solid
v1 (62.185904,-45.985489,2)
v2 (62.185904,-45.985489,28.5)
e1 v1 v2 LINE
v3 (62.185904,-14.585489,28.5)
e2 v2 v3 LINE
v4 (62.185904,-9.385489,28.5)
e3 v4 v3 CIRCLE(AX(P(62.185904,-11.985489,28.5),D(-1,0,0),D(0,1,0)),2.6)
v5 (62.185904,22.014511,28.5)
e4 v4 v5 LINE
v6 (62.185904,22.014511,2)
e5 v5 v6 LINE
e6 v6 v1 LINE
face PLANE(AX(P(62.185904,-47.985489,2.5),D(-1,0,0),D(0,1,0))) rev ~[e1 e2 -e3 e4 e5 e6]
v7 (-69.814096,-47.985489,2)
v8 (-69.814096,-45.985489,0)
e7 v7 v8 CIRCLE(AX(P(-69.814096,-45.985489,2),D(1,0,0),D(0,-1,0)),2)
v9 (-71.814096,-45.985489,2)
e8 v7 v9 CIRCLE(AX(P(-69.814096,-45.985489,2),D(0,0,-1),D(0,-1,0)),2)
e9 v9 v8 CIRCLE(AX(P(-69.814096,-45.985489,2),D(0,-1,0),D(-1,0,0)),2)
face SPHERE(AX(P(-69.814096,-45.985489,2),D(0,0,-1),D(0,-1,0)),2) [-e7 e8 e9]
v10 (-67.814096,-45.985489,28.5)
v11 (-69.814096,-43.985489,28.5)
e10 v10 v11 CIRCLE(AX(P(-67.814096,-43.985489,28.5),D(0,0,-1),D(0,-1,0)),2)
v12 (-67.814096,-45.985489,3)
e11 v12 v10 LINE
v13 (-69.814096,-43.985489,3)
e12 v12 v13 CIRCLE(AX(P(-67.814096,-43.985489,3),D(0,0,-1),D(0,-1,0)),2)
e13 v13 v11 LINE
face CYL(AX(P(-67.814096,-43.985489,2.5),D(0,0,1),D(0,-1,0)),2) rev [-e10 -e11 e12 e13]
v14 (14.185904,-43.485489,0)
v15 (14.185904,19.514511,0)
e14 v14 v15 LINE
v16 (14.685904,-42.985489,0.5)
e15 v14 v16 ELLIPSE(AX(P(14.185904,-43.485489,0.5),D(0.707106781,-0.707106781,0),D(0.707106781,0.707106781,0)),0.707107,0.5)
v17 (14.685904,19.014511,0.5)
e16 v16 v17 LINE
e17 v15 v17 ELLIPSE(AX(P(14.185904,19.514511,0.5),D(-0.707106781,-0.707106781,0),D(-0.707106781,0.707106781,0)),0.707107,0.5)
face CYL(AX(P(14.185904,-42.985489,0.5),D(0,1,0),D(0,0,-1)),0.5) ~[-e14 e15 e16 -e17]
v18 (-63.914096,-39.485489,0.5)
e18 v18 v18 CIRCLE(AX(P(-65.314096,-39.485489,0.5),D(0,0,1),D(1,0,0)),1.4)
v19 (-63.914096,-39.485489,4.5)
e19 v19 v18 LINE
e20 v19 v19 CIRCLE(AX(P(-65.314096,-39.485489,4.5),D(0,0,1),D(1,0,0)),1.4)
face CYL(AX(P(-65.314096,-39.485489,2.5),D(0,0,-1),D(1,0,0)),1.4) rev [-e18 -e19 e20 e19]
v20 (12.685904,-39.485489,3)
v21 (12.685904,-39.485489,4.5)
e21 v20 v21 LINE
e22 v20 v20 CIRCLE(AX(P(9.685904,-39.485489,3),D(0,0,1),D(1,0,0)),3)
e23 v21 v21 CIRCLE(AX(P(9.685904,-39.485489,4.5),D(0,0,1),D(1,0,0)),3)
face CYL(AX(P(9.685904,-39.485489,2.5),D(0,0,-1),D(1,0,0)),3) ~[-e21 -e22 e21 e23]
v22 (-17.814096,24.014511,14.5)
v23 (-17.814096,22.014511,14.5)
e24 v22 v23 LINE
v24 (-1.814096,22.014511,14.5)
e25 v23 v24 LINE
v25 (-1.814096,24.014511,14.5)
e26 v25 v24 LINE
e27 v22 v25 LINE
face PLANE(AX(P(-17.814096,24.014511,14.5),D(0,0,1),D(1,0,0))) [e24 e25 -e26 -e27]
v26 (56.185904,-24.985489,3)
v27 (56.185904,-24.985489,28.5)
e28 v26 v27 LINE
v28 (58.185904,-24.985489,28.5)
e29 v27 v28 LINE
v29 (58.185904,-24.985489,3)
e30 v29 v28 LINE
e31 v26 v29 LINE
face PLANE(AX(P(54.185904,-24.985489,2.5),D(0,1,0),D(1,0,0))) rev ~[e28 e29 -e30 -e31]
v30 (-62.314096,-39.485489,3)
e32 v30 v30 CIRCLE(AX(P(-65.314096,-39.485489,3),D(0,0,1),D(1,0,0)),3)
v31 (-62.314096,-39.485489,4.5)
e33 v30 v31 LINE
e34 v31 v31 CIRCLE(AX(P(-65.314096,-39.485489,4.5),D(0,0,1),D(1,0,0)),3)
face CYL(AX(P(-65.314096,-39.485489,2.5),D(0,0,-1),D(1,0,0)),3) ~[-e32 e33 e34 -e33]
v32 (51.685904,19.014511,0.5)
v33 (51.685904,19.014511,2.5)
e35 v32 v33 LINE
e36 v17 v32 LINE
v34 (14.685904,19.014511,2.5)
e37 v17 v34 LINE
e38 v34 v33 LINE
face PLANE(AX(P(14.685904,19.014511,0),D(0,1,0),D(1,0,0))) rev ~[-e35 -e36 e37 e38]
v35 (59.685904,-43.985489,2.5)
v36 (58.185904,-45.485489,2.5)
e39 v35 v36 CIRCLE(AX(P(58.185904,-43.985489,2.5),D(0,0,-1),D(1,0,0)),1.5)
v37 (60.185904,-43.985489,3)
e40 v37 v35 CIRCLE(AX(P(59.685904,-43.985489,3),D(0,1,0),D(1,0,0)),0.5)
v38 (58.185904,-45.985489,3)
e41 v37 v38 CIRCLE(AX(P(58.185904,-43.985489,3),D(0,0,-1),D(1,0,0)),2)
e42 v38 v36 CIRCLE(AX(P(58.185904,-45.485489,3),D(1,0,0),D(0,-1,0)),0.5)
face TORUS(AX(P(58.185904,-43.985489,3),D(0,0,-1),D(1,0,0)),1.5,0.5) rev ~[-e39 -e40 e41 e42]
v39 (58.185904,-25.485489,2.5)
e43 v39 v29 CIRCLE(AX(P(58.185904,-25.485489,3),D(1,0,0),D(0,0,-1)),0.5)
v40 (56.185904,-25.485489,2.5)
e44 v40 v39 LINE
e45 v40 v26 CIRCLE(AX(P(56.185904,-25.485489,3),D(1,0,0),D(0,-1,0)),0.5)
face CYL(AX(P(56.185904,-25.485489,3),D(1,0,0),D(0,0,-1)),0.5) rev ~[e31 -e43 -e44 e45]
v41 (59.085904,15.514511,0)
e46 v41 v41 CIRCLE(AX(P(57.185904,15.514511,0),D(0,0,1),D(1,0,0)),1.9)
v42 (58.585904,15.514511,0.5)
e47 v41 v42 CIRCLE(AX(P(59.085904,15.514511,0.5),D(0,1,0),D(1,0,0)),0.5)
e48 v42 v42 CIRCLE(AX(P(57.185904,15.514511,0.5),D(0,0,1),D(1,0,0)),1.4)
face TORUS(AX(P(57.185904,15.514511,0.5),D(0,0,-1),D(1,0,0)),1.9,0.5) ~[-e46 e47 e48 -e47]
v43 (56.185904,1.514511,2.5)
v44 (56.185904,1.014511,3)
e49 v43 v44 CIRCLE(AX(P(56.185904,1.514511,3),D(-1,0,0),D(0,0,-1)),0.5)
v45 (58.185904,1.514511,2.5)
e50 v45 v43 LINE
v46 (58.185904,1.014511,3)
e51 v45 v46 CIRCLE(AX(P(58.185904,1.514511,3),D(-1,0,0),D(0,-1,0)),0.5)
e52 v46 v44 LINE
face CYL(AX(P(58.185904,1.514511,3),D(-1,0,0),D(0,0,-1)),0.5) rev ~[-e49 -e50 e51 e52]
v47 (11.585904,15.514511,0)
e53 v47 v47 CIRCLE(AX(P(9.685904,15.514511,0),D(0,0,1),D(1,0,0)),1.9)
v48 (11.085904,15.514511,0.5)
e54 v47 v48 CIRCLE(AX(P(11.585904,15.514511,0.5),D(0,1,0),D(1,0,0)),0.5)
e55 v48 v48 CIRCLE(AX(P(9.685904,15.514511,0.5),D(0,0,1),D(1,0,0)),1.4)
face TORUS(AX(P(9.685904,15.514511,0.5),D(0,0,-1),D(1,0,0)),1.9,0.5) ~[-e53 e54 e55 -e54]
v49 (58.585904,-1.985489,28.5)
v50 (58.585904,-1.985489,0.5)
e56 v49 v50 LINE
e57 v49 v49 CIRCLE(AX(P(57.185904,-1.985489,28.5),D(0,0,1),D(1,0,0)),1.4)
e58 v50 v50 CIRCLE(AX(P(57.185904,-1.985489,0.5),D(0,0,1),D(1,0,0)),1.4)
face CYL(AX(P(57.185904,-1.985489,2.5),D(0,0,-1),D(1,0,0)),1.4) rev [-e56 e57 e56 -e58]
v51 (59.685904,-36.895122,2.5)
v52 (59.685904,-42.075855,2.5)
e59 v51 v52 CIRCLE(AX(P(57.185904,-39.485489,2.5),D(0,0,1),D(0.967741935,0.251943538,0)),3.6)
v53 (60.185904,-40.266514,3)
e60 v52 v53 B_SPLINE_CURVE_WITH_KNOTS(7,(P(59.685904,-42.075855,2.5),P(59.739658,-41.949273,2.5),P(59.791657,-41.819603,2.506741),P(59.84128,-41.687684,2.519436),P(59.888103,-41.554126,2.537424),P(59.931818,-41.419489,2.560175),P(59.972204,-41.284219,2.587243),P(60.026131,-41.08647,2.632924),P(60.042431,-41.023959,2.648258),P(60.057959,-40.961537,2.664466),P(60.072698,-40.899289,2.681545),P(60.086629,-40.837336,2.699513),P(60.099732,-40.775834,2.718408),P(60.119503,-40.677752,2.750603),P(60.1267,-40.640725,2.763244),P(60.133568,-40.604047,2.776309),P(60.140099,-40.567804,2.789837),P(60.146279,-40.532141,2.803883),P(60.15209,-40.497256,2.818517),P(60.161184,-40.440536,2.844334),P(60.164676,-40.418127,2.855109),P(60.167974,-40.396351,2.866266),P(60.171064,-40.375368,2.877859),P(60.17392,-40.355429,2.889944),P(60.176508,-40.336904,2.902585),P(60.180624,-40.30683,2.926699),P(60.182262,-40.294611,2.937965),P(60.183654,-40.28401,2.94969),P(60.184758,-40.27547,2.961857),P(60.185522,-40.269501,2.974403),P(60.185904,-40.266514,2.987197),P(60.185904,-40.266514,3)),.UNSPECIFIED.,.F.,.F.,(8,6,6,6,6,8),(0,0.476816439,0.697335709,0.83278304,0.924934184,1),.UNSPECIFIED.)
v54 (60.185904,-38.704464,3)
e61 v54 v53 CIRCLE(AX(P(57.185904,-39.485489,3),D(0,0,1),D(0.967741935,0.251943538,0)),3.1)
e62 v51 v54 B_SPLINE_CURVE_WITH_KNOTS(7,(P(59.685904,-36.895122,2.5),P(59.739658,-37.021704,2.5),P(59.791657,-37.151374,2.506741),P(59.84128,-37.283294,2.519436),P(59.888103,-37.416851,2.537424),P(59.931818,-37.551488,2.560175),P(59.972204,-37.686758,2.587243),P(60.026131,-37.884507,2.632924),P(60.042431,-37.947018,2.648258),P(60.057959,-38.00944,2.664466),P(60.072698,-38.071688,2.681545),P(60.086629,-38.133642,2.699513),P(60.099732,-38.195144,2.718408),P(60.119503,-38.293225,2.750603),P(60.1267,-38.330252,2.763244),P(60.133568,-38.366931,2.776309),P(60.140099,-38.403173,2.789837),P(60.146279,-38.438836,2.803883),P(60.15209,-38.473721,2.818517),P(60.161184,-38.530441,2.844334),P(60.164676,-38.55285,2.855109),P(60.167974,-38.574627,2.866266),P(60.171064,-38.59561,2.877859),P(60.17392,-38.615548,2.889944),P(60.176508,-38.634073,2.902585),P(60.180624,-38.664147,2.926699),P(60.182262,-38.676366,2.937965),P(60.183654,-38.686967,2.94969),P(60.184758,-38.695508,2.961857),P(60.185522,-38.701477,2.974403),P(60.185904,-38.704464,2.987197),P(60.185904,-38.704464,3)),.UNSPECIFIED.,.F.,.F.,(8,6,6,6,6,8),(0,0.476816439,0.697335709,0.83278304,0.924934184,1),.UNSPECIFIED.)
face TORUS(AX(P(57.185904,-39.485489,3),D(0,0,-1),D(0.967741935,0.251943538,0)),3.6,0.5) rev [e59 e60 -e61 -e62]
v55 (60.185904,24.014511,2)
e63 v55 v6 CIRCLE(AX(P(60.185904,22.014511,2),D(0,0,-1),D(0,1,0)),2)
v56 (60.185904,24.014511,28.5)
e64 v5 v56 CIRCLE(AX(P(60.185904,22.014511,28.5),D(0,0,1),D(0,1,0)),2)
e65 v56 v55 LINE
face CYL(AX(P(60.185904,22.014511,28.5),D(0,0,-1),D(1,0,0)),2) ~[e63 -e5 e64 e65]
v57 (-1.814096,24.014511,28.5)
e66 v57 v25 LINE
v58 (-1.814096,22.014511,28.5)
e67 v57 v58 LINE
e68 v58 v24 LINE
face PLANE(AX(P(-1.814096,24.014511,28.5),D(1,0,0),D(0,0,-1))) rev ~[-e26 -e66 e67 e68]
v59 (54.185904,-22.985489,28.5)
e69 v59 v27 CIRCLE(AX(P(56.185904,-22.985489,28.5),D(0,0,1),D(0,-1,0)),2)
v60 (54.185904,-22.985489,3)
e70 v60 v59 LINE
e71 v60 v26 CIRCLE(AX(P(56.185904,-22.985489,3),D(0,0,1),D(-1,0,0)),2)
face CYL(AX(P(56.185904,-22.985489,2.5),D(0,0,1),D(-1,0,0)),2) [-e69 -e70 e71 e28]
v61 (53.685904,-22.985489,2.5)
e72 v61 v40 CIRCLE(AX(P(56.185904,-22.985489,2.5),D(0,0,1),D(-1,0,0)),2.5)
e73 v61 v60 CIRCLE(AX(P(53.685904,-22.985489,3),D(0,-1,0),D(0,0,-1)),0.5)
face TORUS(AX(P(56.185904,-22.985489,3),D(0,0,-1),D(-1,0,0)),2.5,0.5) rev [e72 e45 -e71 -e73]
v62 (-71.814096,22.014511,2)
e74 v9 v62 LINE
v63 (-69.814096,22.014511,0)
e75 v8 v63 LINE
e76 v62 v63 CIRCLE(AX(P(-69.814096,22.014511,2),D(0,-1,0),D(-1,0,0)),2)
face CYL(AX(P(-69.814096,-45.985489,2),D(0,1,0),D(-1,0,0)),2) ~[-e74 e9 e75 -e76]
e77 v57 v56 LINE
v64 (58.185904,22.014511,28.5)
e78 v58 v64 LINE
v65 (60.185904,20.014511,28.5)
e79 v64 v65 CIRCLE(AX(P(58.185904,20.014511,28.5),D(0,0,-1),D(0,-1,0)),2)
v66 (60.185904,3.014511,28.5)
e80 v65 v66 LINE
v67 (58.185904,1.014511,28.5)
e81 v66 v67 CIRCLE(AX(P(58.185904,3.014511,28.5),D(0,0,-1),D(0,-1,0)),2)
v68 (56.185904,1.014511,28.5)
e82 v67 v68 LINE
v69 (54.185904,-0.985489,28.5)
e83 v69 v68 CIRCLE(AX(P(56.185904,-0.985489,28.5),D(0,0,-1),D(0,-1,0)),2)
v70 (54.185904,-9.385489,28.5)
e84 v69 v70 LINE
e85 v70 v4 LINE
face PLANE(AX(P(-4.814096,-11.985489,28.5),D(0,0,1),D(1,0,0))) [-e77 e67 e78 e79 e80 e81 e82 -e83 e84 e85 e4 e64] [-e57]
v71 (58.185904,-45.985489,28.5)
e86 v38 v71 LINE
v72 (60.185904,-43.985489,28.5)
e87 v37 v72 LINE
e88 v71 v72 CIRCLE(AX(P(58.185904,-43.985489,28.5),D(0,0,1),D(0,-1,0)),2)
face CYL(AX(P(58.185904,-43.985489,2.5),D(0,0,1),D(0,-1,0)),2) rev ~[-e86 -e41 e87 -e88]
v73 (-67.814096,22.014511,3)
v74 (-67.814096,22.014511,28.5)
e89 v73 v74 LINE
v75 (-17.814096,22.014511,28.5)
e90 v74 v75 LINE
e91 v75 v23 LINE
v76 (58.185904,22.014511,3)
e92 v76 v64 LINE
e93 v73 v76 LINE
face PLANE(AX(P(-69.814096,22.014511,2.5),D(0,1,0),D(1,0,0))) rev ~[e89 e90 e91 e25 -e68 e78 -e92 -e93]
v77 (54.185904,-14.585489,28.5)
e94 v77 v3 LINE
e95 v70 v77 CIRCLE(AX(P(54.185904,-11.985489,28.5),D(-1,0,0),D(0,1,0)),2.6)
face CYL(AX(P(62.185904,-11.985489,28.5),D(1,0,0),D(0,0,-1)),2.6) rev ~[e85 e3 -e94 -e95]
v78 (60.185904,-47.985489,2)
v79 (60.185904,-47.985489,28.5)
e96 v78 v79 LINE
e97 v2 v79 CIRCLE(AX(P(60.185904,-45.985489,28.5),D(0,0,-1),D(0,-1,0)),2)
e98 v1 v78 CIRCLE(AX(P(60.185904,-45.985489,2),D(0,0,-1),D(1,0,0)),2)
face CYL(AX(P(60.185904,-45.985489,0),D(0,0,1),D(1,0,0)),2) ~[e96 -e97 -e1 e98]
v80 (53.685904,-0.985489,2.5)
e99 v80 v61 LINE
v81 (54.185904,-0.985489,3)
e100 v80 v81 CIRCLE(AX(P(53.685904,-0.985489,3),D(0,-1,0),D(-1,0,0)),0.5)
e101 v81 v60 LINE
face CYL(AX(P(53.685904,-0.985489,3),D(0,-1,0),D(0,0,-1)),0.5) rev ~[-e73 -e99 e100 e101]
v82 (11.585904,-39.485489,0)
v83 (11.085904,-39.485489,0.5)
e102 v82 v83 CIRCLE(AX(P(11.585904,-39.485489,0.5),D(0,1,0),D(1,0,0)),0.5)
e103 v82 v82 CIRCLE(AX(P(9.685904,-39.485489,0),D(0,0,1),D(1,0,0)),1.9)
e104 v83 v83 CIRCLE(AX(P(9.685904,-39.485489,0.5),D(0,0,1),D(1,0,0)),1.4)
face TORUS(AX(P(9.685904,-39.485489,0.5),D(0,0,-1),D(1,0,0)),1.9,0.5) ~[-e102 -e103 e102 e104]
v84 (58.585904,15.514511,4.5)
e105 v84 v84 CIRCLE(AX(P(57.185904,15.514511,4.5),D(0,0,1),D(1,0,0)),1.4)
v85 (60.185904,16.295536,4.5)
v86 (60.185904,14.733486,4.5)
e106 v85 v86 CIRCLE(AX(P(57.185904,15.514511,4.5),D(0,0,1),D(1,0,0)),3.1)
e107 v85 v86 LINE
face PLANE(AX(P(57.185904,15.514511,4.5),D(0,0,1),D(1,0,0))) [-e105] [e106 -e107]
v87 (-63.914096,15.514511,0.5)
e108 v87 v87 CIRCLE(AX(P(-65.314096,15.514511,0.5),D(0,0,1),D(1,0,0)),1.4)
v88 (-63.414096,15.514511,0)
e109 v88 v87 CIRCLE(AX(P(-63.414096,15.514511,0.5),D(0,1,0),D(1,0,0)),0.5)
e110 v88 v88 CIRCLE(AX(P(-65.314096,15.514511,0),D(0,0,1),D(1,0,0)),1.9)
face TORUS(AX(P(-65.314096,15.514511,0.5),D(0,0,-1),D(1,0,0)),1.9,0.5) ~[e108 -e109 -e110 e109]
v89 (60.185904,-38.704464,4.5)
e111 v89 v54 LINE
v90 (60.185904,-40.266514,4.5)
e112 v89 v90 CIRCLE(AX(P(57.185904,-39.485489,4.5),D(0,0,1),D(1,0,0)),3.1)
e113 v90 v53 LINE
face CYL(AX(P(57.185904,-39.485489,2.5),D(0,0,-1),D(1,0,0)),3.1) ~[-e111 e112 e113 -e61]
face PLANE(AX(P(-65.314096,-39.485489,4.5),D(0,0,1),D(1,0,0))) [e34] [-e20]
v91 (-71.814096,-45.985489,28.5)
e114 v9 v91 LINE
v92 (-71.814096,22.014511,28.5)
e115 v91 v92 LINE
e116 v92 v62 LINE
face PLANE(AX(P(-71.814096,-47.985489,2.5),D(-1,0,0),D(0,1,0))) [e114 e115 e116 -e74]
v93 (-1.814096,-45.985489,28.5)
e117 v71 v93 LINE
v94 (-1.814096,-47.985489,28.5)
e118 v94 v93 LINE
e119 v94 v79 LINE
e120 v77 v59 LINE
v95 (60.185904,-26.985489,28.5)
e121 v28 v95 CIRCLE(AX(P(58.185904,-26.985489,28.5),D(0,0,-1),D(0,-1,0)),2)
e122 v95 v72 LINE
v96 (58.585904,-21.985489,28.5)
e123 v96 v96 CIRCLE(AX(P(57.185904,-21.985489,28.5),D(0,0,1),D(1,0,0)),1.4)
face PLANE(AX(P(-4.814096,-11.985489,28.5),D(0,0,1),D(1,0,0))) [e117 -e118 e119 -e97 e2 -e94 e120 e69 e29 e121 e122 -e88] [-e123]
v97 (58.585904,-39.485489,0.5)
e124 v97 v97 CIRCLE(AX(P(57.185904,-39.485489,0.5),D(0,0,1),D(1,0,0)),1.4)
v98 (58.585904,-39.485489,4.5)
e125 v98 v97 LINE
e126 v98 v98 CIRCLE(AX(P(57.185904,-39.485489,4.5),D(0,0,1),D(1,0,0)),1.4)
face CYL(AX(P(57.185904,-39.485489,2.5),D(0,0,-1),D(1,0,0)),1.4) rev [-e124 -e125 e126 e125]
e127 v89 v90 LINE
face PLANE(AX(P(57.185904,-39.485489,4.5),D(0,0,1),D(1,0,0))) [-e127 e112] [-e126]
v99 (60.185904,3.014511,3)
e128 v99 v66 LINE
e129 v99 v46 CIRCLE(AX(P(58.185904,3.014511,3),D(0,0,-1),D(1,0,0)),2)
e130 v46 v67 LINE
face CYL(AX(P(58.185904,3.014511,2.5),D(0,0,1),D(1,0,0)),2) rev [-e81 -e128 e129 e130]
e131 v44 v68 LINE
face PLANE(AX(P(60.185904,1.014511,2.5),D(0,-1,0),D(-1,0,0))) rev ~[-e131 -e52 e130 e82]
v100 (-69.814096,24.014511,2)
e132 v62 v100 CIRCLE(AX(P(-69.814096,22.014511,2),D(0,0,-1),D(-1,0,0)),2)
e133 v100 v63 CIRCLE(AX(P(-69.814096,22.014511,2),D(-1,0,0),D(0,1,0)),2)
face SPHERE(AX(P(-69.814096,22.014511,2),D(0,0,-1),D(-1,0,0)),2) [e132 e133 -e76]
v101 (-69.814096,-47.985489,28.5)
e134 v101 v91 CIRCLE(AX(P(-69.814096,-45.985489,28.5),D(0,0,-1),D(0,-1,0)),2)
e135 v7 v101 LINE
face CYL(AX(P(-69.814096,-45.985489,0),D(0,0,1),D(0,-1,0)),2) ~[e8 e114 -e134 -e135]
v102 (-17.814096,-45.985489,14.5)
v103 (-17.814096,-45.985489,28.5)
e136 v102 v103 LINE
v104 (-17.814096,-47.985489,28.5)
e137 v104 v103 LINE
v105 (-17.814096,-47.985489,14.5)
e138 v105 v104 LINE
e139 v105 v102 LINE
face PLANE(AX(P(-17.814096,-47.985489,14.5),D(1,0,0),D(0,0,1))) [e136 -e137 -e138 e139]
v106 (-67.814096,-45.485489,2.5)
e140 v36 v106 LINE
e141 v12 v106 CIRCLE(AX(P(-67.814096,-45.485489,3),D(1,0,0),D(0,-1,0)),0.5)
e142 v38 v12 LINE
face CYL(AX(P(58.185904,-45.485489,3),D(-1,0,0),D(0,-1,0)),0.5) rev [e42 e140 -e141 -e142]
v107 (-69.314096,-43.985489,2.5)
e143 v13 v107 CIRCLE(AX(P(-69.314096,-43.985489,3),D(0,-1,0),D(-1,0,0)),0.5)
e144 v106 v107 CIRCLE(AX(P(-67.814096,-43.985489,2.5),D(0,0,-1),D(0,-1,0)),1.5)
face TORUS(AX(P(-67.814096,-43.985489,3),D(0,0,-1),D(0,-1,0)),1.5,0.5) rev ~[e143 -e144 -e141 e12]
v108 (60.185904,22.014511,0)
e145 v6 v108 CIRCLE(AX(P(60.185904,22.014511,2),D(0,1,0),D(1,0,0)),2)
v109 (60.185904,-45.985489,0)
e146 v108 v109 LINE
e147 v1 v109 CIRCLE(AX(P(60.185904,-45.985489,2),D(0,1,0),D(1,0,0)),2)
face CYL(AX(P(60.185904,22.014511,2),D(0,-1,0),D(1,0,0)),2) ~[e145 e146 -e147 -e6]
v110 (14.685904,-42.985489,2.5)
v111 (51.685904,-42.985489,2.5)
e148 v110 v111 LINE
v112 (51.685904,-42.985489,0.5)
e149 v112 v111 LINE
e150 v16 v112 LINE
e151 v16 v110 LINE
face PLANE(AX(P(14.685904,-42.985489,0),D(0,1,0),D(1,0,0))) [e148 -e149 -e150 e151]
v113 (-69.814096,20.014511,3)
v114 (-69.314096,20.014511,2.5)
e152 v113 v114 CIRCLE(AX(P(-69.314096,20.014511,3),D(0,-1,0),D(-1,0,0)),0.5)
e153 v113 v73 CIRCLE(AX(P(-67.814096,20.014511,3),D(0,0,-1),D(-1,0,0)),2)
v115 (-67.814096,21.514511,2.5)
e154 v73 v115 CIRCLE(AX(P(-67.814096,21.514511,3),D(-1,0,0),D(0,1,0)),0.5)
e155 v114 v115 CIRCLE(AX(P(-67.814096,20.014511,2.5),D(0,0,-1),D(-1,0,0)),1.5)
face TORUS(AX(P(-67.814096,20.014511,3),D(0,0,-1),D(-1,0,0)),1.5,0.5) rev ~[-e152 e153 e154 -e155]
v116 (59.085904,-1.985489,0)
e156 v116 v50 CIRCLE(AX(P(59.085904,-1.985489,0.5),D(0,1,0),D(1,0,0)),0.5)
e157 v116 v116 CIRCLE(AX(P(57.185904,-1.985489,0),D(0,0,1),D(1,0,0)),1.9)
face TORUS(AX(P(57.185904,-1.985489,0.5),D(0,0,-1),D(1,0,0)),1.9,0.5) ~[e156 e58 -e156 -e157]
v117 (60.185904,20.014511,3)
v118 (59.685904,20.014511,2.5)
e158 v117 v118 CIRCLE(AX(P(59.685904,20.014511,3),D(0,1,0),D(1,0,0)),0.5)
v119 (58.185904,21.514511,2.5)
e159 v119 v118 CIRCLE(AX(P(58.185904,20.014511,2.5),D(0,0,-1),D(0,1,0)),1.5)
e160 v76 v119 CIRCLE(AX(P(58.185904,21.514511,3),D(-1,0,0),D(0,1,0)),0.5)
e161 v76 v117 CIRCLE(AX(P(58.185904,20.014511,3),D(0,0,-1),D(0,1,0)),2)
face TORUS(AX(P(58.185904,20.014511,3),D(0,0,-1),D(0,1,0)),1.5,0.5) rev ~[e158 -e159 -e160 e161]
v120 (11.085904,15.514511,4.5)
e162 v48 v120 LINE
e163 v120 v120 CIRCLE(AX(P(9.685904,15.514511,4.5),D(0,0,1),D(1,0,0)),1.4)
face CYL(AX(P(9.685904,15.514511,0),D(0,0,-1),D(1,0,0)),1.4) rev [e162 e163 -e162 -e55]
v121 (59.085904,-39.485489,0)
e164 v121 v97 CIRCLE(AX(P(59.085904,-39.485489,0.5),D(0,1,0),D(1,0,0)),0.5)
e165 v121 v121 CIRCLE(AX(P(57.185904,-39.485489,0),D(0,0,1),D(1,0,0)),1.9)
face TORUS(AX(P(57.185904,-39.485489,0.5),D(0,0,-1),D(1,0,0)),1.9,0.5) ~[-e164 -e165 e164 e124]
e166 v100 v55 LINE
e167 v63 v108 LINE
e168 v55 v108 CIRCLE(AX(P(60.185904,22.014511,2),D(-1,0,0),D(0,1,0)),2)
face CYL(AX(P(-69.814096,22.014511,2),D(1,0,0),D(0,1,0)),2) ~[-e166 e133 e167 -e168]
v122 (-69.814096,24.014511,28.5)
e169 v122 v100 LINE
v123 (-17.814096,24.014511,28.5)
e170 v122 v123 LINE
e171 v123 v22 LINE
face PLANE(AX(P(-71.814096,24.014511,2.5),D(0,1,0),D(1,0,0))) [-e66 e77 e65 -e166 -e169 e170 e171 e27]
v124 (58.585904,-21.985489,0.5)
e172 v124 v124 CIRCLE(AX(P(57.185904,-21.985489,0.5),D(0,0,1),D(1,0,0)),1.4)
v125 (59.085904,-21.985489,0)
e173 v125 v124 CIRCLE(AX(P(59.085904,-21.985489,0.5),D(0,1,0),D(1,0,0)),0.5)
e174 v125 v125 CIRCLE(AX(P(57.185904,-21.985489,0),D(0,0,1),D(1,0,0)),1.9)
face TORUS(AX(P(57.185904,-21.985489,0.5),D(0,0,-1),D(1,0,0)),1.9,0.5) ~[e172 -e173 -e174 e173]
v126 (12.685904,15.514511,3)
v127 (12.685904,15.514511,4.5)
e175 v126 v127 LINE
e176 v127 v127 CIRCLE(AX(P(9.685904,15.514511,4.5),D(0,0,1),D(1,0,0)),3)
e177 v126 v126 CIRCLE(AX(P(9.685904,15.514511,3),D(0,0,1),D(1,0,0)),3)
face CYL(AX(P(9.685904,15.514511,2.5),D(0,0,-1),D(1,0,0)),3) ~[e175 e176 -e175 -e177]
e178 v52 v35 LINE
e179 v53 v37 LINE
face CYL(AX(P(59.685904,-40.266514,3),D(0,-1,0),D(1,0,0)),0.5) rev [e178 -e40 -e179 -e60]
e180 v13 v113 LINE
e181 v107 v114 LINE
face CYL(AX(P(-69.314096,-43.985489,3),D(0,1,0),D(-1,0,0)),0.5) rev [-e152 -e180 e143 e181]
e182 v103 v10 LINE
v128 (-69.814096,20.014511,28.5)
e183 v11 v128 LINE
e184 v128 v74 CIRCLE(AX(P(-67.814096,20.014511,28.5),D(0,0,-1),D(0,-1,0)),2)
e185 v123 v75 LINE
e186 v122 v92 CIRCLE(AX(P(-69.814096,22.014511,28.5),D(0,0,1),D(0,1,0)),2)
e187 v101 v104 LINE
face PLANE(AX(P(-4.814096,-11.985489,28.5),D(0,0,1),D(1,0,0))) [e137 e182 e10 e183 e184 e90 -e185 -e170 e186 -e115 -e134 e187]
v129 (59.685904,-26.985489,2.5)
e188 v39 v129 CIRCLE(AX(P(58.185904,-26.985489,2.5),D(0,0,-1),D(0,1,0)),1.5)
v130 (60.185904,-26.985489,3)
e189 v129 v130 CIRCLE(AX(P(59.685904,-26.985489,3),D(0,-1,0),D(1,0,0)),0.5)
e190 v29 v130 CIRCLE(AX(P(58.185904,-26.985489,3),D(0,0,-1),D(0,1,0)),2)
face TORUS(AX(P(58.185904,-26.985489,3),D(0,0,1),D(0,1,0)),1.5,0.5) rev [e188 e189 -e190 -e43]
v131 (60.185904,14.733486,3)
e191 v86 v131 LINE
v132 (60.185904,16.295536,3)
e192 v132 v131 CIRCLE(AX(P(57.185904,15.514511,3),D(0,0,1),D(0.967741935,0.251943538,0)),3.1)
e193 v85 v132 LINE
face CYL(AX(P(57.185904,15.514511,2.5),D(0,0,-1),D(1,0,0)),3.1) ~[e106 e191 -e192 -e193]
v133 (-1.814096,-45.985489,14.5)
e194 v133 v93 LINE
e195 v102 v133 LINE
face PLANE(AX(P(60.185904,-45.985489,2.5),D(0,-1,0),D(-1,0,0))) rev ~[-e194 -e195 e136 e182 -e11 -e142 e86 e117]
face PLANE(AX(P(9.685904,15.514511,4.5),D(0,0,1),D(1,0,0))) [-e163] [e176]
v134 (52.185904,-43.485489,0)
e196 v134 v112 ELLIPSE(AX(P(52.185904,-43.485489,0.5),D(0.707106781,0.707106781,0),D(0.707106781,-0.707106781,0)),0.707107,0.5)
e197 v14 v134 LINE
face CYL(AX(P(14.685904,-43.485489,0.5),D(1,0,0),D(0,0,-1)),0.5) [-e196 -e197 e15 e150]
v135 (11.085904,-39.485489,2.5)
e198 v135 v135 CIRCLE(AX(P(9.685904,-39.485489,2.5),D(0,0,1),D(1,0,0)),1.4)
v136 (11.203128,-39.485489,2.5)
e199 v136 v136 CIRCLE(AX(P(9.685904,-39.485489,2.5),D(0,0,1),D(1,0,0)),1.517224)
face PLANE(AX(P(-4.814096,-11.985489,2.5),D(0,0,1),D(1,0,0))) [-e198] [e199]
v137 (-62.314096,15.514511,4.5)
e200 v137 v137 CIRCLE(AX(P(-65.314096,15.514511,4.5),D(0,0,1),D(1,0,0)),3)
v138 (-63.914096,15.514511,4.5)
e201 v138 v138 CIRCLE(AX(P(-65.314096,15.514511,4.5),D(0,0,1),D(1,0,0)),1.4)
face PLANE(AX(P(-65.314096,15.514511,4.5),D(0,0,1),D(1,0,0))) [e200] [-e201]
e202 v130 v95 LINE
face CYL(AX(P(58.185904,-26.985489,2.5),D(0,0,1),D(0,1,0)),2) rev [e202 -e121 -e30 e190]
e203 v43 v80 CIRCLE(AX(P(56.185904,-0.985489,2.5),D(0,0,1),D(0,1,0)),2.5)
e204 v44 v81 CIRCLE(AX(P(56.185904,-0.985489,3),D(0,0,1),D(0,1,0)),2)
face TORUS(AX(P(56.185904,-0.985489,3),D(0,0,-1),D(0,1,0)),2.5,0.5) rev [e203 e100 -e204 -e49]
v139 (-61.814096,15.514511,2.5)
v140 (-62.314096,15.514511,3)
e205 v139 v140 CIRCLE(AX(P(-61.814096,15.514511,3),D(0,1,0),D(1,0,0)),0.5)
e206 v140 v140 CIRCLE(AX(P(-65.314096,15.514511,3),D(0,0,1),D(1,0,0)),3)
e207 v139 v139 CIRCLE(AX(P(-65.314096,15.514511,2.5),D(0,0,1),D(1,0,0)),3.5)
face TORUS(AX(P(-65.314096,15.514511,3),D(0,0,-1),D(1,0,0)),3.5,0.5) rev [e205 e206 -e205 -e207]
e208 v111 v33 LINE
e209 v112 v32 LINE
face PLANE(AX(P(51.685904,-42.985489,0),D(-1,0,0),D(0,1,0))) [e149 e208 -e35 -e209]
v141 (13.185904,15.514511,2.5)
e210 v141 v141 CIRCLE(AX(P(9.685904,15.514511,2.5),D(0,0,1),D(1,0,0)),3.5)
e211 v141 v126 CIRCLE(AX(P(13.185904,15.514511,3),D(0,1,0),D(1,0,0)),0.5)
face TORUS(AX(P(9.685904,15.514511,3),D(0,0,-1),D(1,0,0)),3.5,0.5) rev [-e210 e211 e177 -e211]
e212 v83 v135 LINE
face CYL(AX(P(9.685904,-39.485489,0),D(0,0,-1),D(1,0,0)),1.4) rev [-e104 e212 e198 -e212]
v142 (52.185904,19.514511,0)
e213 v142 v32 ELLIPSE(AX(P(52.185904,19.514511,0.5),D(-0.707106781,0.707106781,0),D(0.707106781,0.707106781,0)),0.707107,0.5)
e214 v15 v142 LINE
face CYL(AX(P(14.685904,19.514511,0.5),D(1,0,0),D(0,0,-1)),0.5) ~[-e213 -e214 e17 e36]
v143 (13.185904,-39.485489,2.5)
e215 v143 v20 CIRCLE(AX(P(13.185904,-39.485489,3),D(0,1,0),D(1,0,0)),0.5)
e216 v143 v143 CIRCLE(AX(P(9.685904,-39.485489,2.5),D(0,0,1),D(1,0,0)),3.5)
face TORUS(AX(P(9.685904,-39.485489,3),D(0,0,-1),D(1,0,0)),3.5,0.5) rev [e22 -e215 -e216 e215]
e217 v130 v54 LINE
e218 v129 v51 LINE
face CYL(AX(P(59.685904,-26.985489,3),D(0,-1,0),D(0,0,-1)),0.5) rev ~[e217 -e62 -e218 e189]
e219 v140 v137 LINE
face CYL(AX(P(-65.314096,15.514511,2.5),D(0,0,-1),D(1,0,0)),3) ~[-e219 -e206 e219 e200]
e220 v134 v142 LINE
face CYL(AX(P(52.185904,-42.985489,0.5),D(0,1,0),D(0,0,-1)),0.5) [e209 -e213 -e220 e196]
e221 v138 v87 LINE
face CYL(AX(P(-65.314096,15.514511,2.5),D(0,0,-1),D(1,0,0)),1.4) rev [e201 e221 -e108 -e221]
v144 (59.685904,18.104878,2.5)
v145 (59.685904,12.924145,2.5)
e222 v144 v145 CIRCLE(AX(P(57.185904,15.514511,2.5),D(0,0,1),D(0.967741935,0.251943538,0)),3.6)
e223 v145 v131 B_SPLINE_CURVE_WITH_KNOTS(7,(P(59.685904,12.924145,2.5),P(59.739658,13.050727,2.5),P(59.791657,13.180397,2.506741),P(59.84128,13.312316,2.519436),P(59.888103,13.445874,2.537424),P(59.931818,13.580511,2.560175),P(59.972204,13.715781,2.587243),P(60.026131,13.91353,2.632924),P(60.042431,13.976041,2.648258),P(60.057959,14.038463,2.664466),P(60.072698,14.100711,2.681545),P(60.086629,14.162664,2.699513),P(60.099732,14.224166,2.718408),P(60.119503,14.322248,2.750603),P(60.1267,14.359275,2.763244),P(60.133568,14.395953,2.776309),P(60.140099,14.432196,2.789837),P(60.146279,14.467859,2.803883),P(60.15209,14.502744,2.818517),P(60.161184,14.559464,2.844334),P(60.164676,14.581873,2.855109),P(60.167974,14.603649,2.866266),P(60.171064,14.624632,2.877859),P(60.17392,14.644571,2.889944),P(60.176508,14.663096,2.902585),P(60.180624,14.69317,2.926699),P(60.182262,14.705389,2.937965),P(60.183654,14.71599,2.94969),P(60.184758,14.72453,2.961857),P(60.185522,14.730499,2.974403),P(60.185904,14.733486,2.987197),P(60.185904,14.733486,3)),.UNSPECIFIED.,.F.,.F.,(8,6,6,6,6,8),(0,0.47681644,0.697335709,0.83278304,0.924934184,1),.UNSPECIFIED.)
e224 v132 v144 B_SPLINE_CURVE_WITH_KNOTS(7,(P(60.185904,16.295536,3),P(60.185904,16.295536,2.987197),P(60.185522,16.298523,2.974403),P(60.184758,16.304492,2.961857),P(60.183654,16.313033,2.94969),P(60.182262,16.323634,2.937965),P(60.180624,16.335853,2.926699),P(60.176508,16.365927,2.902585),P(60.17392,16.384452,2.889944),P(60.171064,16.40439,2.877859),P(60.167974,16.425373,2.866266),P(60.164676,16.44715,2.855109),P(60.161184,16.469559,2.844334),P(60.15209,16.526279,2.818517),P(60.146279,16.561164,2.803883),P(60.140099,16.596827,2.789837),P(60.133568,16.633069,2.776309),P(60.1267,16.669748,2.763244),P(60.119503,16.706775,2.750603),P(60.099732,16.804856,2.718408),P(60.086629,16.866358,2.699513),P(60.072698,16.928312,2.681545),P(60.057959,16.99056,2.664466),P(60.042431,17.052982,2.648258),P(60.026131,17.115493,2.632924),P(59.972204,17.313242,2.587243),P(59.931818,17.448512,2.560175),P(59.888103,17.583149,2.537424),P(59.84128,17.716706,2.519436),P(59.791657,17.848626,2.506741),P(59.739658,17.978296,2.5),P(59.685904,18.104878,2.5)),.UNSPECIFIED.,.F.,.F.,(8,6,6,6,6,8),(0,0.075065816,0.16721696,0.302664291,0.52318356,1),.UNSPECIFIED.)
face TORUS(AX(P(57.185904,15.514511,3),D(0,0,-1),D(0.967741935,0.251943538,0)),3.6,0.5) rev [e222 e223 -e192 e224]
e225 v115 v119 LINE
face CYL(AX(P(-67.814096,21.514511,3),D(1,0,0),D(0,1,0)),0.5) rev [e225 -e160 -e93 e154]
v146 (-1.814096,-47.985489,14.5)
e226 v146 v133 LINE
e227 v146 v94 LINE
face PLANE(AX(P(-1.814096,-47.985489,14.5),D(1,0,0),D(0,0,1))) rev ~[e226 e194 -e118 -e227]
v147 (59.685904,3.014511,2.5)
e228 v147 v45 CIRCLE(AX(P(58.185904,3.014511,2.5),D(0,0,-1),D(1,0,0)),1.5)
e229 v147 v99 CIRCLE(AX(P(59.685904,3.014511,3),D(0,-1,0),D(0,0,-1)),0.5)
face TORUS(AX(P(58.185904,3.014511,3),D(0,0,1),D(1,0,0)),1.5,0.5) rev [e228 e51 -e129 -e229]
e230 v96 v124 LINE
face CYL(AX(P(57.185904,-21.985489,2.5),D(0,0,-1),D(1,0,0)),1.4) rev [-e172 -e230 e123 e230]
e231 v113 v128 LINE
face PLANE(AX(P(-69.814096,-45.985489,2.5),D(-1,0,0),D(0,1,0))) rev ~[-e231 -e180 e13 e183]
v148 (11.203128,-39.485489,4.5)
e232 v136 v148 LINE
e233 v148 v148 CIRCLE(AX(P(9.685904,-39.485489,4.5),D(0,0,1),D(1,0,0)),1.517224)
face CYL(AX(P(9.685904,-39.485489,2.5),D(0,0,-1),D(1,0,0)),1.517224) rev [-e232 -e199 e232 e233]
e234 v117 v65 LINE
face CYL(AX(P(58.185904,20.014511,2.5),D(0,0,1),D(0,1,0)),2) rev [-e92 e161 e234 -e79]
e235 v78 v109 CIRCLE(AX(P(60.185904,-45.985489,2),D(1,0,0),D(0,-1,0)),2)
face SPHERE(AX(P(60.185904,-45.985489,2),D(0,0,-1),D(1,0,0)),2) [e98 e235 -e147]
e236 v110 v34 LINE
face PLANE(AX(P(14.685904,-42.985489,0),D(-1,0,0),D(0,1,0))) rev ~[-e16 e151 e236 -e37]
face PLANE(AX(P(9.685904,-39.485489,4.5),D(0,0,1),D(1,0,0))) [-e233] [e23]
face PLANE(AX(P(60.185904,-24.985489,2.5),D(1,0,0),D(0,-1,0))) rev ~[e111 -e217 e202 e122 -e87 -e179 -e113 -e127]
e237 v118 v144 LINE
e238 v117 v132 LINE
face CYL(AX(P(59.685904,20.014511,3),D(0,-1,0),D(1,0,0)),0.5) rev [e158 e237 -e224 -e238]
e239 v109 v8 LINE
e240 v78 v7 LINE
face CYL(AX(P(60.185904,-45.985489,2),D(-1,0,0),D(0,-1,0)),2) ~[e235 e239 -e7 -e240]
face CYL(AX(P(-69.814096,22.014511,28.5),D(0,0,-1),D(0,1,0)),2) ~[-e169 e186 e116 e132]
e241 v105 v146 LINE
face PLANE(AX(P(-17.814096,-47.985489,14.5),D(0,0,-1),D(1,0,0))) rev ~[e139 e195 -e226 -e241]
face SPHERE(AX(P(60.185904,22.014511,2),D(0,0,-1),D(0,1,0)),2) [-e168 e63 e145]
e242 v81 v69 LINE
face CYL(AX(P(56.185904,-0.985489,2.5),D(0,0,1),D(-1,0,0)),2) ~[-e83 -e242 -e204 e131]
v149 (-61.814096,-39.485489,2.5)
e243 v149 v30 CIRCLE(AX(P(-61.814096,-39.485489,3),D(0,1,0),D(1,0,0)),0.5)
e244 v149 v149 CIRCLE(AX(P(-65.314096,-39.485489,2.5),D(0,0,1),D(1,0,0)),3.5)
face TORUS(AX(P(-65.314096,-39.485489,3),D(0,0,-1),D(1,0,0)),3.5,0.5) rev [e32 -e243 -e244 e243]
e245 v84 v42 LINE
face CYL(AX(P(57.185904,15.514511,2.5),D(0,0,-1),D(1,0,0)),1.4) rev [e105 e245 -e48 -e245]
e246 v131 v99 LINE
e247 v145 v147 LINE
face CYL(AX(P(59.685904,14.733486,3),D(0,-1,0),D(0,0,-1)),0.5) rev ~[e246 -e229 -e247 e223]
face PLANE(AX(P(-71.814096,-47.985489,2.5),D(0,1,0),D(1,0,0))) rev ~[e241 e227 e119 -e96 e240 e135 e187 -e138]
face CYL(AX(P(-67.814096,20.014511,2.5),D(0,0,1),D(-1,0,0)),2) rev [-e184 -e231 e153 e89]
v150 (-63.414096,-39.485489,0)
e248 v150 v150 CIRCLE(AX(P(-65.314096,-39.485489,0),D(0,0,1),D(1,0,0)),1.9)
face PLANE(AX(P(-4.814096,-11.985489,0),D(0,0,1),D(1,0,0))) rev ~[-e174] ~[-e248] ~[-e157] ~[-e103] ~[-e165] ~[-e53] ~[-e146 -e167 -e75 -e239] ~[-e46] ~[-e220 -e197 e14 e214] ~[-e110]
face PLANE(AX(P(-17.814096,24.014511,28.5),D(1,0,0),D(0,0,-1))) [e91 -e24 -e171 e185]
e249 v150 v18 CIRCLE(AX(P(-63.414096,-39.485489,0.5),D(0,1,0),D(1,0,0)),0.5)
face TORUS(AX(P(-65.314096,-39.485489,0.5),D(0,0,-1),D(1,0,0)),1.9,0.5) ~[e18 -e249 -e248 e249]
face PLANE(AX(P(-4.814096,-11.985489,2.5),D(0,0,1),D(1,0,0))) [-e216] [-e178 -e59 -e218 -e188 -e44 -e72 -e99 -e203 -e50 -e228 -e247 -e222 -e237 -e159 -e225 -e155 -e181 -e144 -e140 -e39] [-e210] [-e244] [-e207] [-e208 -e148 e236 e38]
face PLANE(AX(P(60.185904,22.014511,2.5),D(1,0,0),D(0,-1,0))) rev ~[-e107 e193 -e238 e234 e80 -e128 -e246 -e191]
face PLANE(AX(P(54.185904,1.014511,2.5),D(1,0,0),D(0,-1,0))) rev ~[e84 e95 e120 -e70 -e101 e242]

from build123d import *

# Parameters (mm, degrees)
SKETCH_1_W          = 134
SKETCH_1_H          = 72
SKETCH_1_R          = 1.4
SKETCH_1_W_2        = 37
SKETCH_1_H_2        = 62
EXTRUDE_1_DEPTH     = 2.5
SKETCH_2_W          = 134
SKETCH_2_H          = 72
SKETCH_2_R          = 1.4
EXTRUDE_2_DEPTH     = 26
SKETCH_3_R          = 2.6
CUT_EXTRUDE_1_DEPTH = 26
SKETCH_4_W          = 16
SKETCH_4_H          = 14
CUT_EXTRUDE_2_DEPTH = 26
SKETCH_5_R          = 3
SKETCH_5_R_2        = 1.4
SKETCH_5_R_3        = 1.517223762
SKETCH_5_R_4        = 3.1
EXTRUDE_4_DEPTH     = 2
FILLET_1_R          = 2
FILLET_2_R          = 2
FILLET_3_R          = 0.5
FILLET_4_R          = 2
FILLET_5_R          = 0.5
SKETCH_6_W          = 16
SKETCH_6_H          = 14
CUT_EXTRUDE_3_DEPTH = 2


with BuildPart() as part:
    # Эскиз1 → Бобышка-Вытянуть1 (new body)
    with BuildSketch(Plane.XY):
        with Locations((-4.814095612, -11.985488692)):
            Rectangle(SKETCH_1_W, SKETCH_1_H)
        with Locations((-65.314095612, 15.514511308)):
            Circle(SKETCH_1_R, mode=Mode.SUBTRACT)
        with Locations((9.685904388, 15.514511308)):
            Circle(SKETCH_1_R, mode=Mode.SUBTRACT)
        with Locations((9.685904388, -39.485488692)):
            Circle(SKETCH_1_R, mode=Mode.SUBTRACT)
        with Locations((-65.314095612, -39.485488692)):
            Circle(SKETCH_1_R, mode=Mode.SUBTRACT)
        with Locations((57.185904388, 15.514511308)):
            Circle(SKETCH_1_R, mode=Mode.SUBTRACT)
        with Locations((57.185904388, -39.485488692)):
            Circle(SKETCH_1_R, mode=Mode.SUBTRACT)
        with Locations((57.185904388, -1.985488692)):
            Circle(SKETCH_1_R, mode=Mode.SUBTRACT)
        with Locations((57.185904388, -21.985488692)):
            Circle(SKETCH_1_R, mode=Mode.SUBTRACT)
        with Locations((33.185904388, -11.985488692)):
            Rectangle(SKETCH_1_W_2, SKETCH_1_H_2, mode=Mode.SUBTRACT)
    extrude(amount=EXTRUDE_1_DEPTH)

    # Эскиз2 → Бобышка-Вытянуть2 (add)
    with BuildSketch(Plane.XY.offset(2.5)):
        with Locations((-4.814095612, -11.985488692)):
            Rectangle(SKETCH_2_W, SKETCH_2_H)
        with Locations((57.185904388, -1.985488692)):
            Circle(SKETCH_2_R, mode=Mode.SUBTRACT)
        with Locations((57.185904388, -21.985488692)):
            Circle(SKETCH_2_R, mode=Mode.SUBTRACT)
        Polygon((-69.814095612, 22.014511308), (60.185904388, 22.014511308), (60.185904388, 1.014511308), (54.185904388, 1.014511308), (54.185904388, -24.985488692), (60.185904388, -24.985488692), (60.185904388, -45.985488692), (-69.814095612, -45.985488692), align=None, mode=Mode.SUBTRACT)
    extrude(amount=EXTRUDE_2_DEPTH)

    # Эскиз3 → Вырез-Вытянуть1 (cut)
    with BuildSketch(Plane(origin=(62.185904388, 0, 0), x_dir=(0, 0, -1), z_dir=(1, 0, 0))):
        with Locations((-28.5, -11.985488692)):
            Circle(SKETCH_3_R)
    extrude(amount=-CUT_EXTRUDE_1_DEPTH, mode=Mode.SUBTRACT)

    # Эскиз4 → Вырез-Вытянуть2 (cut)
    with BuildSketch(Plane.XZ.offset(47.985488692)):
        with Locations((-9.814095612, 21.5)):
            Rectangle(SKETCH_4_W, SKETCH_4_H)
    extrude(amount=-CUT_EXTRUDE_2_DEPTH, mode=Mode.SUBTRACT)

    # Эскиз5 → Бобышка-Вытянуть4 (add)
    with BuildSketch(Plane.XY.offset(2.5)):
        with Locations((-65.314095612, 15.514511308)):
            Circle(SKETCH_5_R)
        with Locations((-65.314095612, 15.514511308)):
            Circle(SKETCH_5_R_2, mode=Mode.SUBTRACT)
        with Locations((9.685904388, 15.514511308)):
            Circle(SKETCH_5_R)
        with Locations((9.685904388, 15.514511308)):
            Circle(SKETCH_5_R_2, mode=Mode.SUBTRACT)
        with Locations((9.685904388, -39.485488692)):
            Circle(SKETCH_5_R)
        with Locations((9.685904388, -39.485488692)):
            Circle(SKETCH_5_R_3, mode=Mode.SUBTRACT)
        with Locations((-65.314095612, -39.485488692)):
            Circle(SKETCH_5_R)
        with Locations((-65.314095612, -39.485488692)):
            Circle(SKETCH_5_R_2, mode=Mode.SUBTRACT)
        with Locations((57.185904388, -39.485488692)):
            Circle(SKETCH_5_R_4)
        with Locations((57.185904388, -39.485488692)):
            Circle(SKETCH_5_R_2, mode=Mode.SUBTRACT)
        with Locations((57.185904388, 15.514511308)):
            Circle(SKETCH_5_R_4)
        with Locations((57.185904388, 15.514511308)):
            Circle(SKETCH_5_R_2, mode=Mode.SUBTRACT)
    extrude(amount=EXTRUDE_4_DEPTH)

    # Скругление1
    fillet_1_edges = [part.edges().sort_by_distance(p)[0] for p in [
        (-71.814095612, 24.014511308, 14.25),
        (62.185904388, 24.014511308, 14.25),
        (62.185904388, -47.985488692, 14.25),
        (-71.814095612, -47.985488692, 14.25),
    ]]
    fillet(fillet_1_edges, radius=FILLET_1_R)

    # Скругление2
    fillet_2_edges = [part.edges().sort_by_distance(p)[0] for p in [
        (-69.814095612, -45.985488692, 15.5),
        (60.185904388, -45.985488692, 15.5),
        (60.185904388, -24.985488692, 15.5),
        (54.185904388, -24.985488692, 15.5),
        (54.185904388, 1.014511308, 15.5),
        (60.185904388, 1.014511308, 15.5),
        (60.185904388, 22.014511308, 15.5),
        (-69.814095612, 22.014511308, 15.5),
    ]]
    fillet(fillet_2_edges, radius=FILLET_2_R)

    # Скругление3
    fillet_3_edges = [part.edges().sort_by_distance(p)[0] for p in [
        (-68.314095612, 15.514511308, 2.5),
        (6.685904388, 15.514511308, 2.5),
        (-68.314095612, -39.485488692, 2.5),
        (6.685904388, -39.485488692, 2.5),
        (60.185904388, -32.844976209, 2.5),
        (54.085904388, -39.485488692, 2.5),
        (60.185904388, 18.155023791, 2.5),
        (54.085904388, 15.514511308, 2.5),
        (-69.814095612, -11.985488692, 2.5),
        (-4.814095612, 22.014511308, 2.5),
        (-4.814095612, -45.985488692, 2.5),
        (60.185904388, -42.126001176, 2.5),
        (57.185904388, -24.985488692, 2.5),
        (54.185904388, -11.985488692, 2.5),
        (57.185904388, 1.014511308, 2.5),
        (60.185904388, 8.873998824, 2.5),
        (59.60011795, -45.399702255, 2.5),
        (59.60011795, 1.600297745, 2.5),
        (59.60011795, 21.42872487, 2.5),
        (59.60011795, -25.57127513, 2.5),
        (-69.228309174, 21.42872487, 2.5),
        (-69.228309174, -45.399702255, 2.5),
        (54.771690826, -24.399702255, 2.5),
        (54.771690826, 0.42872487, 2.5),
    ]]
    fillet(fillet_3_edges, radius=FILLET_3_R)

    # Скругление4
    fillet_4_edges = [part.edges().sort_by_distance(p)[0] for p in [
        (-4.814095612, 24.014511308, 0),
        (-71.814095612, -11.985488692, 0),
        (62.185904388, -11.985488692, 0),
        (-4.814095612, -47.985488692, 0),
        (-71.228309174, 23.42872487, 0),
        (-71.228309174, -47.399702255, 0),
        (61.60011795, -47.399702255, 0),
        (61.60011795, 23.42872487, 0),
    ]]
    fillet(fillet_4_edges, radius=FILLET_4_R)

    # Скругление5
    fillet_5_edges = [part.edges().sort_by_distance(p)[0] for p in [
        (14.685904388, -11.985488692, 0),
        (33.185904388, -42.985488692, 0),
        (51.685904388, -11.985488692, 0),
        (33.185904388, 19.014511308, 0),
        (-66.714095612, 15.514511308, 0),
        (8.285904388, 15.514511308, 0),
        (8.285904388, -39.485488692, 0),
        (-66.714095612, -39.485488692, 0),
        (55.785904388, 15.514511308, 0),
        (55.785904388, -39.485488692, 0),
        (55.785904388, -1.985488692, 0),
        (55.785904388, -21.985488692, 0),
    ]]
    fillet(fillet_5_edges, radius=FILLET_5_R)

    # Эскиз6 → Вырез-Вытянуть3 (cut)
    with BuildSketch(Plane(origin=(0, 24.014511308, 0), x_dir=(1, 0, 0), z_dir=(0, 1, 0))):
        with Locations((-9.814095612, -21.5)):
            Rectangle(SKETCH_6_W, SKETCH_6_H)
    extrude(amount=-CUT_EXTRUDE_3_DEPTH, mode=Mode.SUBTRACT)


solid = part.part
